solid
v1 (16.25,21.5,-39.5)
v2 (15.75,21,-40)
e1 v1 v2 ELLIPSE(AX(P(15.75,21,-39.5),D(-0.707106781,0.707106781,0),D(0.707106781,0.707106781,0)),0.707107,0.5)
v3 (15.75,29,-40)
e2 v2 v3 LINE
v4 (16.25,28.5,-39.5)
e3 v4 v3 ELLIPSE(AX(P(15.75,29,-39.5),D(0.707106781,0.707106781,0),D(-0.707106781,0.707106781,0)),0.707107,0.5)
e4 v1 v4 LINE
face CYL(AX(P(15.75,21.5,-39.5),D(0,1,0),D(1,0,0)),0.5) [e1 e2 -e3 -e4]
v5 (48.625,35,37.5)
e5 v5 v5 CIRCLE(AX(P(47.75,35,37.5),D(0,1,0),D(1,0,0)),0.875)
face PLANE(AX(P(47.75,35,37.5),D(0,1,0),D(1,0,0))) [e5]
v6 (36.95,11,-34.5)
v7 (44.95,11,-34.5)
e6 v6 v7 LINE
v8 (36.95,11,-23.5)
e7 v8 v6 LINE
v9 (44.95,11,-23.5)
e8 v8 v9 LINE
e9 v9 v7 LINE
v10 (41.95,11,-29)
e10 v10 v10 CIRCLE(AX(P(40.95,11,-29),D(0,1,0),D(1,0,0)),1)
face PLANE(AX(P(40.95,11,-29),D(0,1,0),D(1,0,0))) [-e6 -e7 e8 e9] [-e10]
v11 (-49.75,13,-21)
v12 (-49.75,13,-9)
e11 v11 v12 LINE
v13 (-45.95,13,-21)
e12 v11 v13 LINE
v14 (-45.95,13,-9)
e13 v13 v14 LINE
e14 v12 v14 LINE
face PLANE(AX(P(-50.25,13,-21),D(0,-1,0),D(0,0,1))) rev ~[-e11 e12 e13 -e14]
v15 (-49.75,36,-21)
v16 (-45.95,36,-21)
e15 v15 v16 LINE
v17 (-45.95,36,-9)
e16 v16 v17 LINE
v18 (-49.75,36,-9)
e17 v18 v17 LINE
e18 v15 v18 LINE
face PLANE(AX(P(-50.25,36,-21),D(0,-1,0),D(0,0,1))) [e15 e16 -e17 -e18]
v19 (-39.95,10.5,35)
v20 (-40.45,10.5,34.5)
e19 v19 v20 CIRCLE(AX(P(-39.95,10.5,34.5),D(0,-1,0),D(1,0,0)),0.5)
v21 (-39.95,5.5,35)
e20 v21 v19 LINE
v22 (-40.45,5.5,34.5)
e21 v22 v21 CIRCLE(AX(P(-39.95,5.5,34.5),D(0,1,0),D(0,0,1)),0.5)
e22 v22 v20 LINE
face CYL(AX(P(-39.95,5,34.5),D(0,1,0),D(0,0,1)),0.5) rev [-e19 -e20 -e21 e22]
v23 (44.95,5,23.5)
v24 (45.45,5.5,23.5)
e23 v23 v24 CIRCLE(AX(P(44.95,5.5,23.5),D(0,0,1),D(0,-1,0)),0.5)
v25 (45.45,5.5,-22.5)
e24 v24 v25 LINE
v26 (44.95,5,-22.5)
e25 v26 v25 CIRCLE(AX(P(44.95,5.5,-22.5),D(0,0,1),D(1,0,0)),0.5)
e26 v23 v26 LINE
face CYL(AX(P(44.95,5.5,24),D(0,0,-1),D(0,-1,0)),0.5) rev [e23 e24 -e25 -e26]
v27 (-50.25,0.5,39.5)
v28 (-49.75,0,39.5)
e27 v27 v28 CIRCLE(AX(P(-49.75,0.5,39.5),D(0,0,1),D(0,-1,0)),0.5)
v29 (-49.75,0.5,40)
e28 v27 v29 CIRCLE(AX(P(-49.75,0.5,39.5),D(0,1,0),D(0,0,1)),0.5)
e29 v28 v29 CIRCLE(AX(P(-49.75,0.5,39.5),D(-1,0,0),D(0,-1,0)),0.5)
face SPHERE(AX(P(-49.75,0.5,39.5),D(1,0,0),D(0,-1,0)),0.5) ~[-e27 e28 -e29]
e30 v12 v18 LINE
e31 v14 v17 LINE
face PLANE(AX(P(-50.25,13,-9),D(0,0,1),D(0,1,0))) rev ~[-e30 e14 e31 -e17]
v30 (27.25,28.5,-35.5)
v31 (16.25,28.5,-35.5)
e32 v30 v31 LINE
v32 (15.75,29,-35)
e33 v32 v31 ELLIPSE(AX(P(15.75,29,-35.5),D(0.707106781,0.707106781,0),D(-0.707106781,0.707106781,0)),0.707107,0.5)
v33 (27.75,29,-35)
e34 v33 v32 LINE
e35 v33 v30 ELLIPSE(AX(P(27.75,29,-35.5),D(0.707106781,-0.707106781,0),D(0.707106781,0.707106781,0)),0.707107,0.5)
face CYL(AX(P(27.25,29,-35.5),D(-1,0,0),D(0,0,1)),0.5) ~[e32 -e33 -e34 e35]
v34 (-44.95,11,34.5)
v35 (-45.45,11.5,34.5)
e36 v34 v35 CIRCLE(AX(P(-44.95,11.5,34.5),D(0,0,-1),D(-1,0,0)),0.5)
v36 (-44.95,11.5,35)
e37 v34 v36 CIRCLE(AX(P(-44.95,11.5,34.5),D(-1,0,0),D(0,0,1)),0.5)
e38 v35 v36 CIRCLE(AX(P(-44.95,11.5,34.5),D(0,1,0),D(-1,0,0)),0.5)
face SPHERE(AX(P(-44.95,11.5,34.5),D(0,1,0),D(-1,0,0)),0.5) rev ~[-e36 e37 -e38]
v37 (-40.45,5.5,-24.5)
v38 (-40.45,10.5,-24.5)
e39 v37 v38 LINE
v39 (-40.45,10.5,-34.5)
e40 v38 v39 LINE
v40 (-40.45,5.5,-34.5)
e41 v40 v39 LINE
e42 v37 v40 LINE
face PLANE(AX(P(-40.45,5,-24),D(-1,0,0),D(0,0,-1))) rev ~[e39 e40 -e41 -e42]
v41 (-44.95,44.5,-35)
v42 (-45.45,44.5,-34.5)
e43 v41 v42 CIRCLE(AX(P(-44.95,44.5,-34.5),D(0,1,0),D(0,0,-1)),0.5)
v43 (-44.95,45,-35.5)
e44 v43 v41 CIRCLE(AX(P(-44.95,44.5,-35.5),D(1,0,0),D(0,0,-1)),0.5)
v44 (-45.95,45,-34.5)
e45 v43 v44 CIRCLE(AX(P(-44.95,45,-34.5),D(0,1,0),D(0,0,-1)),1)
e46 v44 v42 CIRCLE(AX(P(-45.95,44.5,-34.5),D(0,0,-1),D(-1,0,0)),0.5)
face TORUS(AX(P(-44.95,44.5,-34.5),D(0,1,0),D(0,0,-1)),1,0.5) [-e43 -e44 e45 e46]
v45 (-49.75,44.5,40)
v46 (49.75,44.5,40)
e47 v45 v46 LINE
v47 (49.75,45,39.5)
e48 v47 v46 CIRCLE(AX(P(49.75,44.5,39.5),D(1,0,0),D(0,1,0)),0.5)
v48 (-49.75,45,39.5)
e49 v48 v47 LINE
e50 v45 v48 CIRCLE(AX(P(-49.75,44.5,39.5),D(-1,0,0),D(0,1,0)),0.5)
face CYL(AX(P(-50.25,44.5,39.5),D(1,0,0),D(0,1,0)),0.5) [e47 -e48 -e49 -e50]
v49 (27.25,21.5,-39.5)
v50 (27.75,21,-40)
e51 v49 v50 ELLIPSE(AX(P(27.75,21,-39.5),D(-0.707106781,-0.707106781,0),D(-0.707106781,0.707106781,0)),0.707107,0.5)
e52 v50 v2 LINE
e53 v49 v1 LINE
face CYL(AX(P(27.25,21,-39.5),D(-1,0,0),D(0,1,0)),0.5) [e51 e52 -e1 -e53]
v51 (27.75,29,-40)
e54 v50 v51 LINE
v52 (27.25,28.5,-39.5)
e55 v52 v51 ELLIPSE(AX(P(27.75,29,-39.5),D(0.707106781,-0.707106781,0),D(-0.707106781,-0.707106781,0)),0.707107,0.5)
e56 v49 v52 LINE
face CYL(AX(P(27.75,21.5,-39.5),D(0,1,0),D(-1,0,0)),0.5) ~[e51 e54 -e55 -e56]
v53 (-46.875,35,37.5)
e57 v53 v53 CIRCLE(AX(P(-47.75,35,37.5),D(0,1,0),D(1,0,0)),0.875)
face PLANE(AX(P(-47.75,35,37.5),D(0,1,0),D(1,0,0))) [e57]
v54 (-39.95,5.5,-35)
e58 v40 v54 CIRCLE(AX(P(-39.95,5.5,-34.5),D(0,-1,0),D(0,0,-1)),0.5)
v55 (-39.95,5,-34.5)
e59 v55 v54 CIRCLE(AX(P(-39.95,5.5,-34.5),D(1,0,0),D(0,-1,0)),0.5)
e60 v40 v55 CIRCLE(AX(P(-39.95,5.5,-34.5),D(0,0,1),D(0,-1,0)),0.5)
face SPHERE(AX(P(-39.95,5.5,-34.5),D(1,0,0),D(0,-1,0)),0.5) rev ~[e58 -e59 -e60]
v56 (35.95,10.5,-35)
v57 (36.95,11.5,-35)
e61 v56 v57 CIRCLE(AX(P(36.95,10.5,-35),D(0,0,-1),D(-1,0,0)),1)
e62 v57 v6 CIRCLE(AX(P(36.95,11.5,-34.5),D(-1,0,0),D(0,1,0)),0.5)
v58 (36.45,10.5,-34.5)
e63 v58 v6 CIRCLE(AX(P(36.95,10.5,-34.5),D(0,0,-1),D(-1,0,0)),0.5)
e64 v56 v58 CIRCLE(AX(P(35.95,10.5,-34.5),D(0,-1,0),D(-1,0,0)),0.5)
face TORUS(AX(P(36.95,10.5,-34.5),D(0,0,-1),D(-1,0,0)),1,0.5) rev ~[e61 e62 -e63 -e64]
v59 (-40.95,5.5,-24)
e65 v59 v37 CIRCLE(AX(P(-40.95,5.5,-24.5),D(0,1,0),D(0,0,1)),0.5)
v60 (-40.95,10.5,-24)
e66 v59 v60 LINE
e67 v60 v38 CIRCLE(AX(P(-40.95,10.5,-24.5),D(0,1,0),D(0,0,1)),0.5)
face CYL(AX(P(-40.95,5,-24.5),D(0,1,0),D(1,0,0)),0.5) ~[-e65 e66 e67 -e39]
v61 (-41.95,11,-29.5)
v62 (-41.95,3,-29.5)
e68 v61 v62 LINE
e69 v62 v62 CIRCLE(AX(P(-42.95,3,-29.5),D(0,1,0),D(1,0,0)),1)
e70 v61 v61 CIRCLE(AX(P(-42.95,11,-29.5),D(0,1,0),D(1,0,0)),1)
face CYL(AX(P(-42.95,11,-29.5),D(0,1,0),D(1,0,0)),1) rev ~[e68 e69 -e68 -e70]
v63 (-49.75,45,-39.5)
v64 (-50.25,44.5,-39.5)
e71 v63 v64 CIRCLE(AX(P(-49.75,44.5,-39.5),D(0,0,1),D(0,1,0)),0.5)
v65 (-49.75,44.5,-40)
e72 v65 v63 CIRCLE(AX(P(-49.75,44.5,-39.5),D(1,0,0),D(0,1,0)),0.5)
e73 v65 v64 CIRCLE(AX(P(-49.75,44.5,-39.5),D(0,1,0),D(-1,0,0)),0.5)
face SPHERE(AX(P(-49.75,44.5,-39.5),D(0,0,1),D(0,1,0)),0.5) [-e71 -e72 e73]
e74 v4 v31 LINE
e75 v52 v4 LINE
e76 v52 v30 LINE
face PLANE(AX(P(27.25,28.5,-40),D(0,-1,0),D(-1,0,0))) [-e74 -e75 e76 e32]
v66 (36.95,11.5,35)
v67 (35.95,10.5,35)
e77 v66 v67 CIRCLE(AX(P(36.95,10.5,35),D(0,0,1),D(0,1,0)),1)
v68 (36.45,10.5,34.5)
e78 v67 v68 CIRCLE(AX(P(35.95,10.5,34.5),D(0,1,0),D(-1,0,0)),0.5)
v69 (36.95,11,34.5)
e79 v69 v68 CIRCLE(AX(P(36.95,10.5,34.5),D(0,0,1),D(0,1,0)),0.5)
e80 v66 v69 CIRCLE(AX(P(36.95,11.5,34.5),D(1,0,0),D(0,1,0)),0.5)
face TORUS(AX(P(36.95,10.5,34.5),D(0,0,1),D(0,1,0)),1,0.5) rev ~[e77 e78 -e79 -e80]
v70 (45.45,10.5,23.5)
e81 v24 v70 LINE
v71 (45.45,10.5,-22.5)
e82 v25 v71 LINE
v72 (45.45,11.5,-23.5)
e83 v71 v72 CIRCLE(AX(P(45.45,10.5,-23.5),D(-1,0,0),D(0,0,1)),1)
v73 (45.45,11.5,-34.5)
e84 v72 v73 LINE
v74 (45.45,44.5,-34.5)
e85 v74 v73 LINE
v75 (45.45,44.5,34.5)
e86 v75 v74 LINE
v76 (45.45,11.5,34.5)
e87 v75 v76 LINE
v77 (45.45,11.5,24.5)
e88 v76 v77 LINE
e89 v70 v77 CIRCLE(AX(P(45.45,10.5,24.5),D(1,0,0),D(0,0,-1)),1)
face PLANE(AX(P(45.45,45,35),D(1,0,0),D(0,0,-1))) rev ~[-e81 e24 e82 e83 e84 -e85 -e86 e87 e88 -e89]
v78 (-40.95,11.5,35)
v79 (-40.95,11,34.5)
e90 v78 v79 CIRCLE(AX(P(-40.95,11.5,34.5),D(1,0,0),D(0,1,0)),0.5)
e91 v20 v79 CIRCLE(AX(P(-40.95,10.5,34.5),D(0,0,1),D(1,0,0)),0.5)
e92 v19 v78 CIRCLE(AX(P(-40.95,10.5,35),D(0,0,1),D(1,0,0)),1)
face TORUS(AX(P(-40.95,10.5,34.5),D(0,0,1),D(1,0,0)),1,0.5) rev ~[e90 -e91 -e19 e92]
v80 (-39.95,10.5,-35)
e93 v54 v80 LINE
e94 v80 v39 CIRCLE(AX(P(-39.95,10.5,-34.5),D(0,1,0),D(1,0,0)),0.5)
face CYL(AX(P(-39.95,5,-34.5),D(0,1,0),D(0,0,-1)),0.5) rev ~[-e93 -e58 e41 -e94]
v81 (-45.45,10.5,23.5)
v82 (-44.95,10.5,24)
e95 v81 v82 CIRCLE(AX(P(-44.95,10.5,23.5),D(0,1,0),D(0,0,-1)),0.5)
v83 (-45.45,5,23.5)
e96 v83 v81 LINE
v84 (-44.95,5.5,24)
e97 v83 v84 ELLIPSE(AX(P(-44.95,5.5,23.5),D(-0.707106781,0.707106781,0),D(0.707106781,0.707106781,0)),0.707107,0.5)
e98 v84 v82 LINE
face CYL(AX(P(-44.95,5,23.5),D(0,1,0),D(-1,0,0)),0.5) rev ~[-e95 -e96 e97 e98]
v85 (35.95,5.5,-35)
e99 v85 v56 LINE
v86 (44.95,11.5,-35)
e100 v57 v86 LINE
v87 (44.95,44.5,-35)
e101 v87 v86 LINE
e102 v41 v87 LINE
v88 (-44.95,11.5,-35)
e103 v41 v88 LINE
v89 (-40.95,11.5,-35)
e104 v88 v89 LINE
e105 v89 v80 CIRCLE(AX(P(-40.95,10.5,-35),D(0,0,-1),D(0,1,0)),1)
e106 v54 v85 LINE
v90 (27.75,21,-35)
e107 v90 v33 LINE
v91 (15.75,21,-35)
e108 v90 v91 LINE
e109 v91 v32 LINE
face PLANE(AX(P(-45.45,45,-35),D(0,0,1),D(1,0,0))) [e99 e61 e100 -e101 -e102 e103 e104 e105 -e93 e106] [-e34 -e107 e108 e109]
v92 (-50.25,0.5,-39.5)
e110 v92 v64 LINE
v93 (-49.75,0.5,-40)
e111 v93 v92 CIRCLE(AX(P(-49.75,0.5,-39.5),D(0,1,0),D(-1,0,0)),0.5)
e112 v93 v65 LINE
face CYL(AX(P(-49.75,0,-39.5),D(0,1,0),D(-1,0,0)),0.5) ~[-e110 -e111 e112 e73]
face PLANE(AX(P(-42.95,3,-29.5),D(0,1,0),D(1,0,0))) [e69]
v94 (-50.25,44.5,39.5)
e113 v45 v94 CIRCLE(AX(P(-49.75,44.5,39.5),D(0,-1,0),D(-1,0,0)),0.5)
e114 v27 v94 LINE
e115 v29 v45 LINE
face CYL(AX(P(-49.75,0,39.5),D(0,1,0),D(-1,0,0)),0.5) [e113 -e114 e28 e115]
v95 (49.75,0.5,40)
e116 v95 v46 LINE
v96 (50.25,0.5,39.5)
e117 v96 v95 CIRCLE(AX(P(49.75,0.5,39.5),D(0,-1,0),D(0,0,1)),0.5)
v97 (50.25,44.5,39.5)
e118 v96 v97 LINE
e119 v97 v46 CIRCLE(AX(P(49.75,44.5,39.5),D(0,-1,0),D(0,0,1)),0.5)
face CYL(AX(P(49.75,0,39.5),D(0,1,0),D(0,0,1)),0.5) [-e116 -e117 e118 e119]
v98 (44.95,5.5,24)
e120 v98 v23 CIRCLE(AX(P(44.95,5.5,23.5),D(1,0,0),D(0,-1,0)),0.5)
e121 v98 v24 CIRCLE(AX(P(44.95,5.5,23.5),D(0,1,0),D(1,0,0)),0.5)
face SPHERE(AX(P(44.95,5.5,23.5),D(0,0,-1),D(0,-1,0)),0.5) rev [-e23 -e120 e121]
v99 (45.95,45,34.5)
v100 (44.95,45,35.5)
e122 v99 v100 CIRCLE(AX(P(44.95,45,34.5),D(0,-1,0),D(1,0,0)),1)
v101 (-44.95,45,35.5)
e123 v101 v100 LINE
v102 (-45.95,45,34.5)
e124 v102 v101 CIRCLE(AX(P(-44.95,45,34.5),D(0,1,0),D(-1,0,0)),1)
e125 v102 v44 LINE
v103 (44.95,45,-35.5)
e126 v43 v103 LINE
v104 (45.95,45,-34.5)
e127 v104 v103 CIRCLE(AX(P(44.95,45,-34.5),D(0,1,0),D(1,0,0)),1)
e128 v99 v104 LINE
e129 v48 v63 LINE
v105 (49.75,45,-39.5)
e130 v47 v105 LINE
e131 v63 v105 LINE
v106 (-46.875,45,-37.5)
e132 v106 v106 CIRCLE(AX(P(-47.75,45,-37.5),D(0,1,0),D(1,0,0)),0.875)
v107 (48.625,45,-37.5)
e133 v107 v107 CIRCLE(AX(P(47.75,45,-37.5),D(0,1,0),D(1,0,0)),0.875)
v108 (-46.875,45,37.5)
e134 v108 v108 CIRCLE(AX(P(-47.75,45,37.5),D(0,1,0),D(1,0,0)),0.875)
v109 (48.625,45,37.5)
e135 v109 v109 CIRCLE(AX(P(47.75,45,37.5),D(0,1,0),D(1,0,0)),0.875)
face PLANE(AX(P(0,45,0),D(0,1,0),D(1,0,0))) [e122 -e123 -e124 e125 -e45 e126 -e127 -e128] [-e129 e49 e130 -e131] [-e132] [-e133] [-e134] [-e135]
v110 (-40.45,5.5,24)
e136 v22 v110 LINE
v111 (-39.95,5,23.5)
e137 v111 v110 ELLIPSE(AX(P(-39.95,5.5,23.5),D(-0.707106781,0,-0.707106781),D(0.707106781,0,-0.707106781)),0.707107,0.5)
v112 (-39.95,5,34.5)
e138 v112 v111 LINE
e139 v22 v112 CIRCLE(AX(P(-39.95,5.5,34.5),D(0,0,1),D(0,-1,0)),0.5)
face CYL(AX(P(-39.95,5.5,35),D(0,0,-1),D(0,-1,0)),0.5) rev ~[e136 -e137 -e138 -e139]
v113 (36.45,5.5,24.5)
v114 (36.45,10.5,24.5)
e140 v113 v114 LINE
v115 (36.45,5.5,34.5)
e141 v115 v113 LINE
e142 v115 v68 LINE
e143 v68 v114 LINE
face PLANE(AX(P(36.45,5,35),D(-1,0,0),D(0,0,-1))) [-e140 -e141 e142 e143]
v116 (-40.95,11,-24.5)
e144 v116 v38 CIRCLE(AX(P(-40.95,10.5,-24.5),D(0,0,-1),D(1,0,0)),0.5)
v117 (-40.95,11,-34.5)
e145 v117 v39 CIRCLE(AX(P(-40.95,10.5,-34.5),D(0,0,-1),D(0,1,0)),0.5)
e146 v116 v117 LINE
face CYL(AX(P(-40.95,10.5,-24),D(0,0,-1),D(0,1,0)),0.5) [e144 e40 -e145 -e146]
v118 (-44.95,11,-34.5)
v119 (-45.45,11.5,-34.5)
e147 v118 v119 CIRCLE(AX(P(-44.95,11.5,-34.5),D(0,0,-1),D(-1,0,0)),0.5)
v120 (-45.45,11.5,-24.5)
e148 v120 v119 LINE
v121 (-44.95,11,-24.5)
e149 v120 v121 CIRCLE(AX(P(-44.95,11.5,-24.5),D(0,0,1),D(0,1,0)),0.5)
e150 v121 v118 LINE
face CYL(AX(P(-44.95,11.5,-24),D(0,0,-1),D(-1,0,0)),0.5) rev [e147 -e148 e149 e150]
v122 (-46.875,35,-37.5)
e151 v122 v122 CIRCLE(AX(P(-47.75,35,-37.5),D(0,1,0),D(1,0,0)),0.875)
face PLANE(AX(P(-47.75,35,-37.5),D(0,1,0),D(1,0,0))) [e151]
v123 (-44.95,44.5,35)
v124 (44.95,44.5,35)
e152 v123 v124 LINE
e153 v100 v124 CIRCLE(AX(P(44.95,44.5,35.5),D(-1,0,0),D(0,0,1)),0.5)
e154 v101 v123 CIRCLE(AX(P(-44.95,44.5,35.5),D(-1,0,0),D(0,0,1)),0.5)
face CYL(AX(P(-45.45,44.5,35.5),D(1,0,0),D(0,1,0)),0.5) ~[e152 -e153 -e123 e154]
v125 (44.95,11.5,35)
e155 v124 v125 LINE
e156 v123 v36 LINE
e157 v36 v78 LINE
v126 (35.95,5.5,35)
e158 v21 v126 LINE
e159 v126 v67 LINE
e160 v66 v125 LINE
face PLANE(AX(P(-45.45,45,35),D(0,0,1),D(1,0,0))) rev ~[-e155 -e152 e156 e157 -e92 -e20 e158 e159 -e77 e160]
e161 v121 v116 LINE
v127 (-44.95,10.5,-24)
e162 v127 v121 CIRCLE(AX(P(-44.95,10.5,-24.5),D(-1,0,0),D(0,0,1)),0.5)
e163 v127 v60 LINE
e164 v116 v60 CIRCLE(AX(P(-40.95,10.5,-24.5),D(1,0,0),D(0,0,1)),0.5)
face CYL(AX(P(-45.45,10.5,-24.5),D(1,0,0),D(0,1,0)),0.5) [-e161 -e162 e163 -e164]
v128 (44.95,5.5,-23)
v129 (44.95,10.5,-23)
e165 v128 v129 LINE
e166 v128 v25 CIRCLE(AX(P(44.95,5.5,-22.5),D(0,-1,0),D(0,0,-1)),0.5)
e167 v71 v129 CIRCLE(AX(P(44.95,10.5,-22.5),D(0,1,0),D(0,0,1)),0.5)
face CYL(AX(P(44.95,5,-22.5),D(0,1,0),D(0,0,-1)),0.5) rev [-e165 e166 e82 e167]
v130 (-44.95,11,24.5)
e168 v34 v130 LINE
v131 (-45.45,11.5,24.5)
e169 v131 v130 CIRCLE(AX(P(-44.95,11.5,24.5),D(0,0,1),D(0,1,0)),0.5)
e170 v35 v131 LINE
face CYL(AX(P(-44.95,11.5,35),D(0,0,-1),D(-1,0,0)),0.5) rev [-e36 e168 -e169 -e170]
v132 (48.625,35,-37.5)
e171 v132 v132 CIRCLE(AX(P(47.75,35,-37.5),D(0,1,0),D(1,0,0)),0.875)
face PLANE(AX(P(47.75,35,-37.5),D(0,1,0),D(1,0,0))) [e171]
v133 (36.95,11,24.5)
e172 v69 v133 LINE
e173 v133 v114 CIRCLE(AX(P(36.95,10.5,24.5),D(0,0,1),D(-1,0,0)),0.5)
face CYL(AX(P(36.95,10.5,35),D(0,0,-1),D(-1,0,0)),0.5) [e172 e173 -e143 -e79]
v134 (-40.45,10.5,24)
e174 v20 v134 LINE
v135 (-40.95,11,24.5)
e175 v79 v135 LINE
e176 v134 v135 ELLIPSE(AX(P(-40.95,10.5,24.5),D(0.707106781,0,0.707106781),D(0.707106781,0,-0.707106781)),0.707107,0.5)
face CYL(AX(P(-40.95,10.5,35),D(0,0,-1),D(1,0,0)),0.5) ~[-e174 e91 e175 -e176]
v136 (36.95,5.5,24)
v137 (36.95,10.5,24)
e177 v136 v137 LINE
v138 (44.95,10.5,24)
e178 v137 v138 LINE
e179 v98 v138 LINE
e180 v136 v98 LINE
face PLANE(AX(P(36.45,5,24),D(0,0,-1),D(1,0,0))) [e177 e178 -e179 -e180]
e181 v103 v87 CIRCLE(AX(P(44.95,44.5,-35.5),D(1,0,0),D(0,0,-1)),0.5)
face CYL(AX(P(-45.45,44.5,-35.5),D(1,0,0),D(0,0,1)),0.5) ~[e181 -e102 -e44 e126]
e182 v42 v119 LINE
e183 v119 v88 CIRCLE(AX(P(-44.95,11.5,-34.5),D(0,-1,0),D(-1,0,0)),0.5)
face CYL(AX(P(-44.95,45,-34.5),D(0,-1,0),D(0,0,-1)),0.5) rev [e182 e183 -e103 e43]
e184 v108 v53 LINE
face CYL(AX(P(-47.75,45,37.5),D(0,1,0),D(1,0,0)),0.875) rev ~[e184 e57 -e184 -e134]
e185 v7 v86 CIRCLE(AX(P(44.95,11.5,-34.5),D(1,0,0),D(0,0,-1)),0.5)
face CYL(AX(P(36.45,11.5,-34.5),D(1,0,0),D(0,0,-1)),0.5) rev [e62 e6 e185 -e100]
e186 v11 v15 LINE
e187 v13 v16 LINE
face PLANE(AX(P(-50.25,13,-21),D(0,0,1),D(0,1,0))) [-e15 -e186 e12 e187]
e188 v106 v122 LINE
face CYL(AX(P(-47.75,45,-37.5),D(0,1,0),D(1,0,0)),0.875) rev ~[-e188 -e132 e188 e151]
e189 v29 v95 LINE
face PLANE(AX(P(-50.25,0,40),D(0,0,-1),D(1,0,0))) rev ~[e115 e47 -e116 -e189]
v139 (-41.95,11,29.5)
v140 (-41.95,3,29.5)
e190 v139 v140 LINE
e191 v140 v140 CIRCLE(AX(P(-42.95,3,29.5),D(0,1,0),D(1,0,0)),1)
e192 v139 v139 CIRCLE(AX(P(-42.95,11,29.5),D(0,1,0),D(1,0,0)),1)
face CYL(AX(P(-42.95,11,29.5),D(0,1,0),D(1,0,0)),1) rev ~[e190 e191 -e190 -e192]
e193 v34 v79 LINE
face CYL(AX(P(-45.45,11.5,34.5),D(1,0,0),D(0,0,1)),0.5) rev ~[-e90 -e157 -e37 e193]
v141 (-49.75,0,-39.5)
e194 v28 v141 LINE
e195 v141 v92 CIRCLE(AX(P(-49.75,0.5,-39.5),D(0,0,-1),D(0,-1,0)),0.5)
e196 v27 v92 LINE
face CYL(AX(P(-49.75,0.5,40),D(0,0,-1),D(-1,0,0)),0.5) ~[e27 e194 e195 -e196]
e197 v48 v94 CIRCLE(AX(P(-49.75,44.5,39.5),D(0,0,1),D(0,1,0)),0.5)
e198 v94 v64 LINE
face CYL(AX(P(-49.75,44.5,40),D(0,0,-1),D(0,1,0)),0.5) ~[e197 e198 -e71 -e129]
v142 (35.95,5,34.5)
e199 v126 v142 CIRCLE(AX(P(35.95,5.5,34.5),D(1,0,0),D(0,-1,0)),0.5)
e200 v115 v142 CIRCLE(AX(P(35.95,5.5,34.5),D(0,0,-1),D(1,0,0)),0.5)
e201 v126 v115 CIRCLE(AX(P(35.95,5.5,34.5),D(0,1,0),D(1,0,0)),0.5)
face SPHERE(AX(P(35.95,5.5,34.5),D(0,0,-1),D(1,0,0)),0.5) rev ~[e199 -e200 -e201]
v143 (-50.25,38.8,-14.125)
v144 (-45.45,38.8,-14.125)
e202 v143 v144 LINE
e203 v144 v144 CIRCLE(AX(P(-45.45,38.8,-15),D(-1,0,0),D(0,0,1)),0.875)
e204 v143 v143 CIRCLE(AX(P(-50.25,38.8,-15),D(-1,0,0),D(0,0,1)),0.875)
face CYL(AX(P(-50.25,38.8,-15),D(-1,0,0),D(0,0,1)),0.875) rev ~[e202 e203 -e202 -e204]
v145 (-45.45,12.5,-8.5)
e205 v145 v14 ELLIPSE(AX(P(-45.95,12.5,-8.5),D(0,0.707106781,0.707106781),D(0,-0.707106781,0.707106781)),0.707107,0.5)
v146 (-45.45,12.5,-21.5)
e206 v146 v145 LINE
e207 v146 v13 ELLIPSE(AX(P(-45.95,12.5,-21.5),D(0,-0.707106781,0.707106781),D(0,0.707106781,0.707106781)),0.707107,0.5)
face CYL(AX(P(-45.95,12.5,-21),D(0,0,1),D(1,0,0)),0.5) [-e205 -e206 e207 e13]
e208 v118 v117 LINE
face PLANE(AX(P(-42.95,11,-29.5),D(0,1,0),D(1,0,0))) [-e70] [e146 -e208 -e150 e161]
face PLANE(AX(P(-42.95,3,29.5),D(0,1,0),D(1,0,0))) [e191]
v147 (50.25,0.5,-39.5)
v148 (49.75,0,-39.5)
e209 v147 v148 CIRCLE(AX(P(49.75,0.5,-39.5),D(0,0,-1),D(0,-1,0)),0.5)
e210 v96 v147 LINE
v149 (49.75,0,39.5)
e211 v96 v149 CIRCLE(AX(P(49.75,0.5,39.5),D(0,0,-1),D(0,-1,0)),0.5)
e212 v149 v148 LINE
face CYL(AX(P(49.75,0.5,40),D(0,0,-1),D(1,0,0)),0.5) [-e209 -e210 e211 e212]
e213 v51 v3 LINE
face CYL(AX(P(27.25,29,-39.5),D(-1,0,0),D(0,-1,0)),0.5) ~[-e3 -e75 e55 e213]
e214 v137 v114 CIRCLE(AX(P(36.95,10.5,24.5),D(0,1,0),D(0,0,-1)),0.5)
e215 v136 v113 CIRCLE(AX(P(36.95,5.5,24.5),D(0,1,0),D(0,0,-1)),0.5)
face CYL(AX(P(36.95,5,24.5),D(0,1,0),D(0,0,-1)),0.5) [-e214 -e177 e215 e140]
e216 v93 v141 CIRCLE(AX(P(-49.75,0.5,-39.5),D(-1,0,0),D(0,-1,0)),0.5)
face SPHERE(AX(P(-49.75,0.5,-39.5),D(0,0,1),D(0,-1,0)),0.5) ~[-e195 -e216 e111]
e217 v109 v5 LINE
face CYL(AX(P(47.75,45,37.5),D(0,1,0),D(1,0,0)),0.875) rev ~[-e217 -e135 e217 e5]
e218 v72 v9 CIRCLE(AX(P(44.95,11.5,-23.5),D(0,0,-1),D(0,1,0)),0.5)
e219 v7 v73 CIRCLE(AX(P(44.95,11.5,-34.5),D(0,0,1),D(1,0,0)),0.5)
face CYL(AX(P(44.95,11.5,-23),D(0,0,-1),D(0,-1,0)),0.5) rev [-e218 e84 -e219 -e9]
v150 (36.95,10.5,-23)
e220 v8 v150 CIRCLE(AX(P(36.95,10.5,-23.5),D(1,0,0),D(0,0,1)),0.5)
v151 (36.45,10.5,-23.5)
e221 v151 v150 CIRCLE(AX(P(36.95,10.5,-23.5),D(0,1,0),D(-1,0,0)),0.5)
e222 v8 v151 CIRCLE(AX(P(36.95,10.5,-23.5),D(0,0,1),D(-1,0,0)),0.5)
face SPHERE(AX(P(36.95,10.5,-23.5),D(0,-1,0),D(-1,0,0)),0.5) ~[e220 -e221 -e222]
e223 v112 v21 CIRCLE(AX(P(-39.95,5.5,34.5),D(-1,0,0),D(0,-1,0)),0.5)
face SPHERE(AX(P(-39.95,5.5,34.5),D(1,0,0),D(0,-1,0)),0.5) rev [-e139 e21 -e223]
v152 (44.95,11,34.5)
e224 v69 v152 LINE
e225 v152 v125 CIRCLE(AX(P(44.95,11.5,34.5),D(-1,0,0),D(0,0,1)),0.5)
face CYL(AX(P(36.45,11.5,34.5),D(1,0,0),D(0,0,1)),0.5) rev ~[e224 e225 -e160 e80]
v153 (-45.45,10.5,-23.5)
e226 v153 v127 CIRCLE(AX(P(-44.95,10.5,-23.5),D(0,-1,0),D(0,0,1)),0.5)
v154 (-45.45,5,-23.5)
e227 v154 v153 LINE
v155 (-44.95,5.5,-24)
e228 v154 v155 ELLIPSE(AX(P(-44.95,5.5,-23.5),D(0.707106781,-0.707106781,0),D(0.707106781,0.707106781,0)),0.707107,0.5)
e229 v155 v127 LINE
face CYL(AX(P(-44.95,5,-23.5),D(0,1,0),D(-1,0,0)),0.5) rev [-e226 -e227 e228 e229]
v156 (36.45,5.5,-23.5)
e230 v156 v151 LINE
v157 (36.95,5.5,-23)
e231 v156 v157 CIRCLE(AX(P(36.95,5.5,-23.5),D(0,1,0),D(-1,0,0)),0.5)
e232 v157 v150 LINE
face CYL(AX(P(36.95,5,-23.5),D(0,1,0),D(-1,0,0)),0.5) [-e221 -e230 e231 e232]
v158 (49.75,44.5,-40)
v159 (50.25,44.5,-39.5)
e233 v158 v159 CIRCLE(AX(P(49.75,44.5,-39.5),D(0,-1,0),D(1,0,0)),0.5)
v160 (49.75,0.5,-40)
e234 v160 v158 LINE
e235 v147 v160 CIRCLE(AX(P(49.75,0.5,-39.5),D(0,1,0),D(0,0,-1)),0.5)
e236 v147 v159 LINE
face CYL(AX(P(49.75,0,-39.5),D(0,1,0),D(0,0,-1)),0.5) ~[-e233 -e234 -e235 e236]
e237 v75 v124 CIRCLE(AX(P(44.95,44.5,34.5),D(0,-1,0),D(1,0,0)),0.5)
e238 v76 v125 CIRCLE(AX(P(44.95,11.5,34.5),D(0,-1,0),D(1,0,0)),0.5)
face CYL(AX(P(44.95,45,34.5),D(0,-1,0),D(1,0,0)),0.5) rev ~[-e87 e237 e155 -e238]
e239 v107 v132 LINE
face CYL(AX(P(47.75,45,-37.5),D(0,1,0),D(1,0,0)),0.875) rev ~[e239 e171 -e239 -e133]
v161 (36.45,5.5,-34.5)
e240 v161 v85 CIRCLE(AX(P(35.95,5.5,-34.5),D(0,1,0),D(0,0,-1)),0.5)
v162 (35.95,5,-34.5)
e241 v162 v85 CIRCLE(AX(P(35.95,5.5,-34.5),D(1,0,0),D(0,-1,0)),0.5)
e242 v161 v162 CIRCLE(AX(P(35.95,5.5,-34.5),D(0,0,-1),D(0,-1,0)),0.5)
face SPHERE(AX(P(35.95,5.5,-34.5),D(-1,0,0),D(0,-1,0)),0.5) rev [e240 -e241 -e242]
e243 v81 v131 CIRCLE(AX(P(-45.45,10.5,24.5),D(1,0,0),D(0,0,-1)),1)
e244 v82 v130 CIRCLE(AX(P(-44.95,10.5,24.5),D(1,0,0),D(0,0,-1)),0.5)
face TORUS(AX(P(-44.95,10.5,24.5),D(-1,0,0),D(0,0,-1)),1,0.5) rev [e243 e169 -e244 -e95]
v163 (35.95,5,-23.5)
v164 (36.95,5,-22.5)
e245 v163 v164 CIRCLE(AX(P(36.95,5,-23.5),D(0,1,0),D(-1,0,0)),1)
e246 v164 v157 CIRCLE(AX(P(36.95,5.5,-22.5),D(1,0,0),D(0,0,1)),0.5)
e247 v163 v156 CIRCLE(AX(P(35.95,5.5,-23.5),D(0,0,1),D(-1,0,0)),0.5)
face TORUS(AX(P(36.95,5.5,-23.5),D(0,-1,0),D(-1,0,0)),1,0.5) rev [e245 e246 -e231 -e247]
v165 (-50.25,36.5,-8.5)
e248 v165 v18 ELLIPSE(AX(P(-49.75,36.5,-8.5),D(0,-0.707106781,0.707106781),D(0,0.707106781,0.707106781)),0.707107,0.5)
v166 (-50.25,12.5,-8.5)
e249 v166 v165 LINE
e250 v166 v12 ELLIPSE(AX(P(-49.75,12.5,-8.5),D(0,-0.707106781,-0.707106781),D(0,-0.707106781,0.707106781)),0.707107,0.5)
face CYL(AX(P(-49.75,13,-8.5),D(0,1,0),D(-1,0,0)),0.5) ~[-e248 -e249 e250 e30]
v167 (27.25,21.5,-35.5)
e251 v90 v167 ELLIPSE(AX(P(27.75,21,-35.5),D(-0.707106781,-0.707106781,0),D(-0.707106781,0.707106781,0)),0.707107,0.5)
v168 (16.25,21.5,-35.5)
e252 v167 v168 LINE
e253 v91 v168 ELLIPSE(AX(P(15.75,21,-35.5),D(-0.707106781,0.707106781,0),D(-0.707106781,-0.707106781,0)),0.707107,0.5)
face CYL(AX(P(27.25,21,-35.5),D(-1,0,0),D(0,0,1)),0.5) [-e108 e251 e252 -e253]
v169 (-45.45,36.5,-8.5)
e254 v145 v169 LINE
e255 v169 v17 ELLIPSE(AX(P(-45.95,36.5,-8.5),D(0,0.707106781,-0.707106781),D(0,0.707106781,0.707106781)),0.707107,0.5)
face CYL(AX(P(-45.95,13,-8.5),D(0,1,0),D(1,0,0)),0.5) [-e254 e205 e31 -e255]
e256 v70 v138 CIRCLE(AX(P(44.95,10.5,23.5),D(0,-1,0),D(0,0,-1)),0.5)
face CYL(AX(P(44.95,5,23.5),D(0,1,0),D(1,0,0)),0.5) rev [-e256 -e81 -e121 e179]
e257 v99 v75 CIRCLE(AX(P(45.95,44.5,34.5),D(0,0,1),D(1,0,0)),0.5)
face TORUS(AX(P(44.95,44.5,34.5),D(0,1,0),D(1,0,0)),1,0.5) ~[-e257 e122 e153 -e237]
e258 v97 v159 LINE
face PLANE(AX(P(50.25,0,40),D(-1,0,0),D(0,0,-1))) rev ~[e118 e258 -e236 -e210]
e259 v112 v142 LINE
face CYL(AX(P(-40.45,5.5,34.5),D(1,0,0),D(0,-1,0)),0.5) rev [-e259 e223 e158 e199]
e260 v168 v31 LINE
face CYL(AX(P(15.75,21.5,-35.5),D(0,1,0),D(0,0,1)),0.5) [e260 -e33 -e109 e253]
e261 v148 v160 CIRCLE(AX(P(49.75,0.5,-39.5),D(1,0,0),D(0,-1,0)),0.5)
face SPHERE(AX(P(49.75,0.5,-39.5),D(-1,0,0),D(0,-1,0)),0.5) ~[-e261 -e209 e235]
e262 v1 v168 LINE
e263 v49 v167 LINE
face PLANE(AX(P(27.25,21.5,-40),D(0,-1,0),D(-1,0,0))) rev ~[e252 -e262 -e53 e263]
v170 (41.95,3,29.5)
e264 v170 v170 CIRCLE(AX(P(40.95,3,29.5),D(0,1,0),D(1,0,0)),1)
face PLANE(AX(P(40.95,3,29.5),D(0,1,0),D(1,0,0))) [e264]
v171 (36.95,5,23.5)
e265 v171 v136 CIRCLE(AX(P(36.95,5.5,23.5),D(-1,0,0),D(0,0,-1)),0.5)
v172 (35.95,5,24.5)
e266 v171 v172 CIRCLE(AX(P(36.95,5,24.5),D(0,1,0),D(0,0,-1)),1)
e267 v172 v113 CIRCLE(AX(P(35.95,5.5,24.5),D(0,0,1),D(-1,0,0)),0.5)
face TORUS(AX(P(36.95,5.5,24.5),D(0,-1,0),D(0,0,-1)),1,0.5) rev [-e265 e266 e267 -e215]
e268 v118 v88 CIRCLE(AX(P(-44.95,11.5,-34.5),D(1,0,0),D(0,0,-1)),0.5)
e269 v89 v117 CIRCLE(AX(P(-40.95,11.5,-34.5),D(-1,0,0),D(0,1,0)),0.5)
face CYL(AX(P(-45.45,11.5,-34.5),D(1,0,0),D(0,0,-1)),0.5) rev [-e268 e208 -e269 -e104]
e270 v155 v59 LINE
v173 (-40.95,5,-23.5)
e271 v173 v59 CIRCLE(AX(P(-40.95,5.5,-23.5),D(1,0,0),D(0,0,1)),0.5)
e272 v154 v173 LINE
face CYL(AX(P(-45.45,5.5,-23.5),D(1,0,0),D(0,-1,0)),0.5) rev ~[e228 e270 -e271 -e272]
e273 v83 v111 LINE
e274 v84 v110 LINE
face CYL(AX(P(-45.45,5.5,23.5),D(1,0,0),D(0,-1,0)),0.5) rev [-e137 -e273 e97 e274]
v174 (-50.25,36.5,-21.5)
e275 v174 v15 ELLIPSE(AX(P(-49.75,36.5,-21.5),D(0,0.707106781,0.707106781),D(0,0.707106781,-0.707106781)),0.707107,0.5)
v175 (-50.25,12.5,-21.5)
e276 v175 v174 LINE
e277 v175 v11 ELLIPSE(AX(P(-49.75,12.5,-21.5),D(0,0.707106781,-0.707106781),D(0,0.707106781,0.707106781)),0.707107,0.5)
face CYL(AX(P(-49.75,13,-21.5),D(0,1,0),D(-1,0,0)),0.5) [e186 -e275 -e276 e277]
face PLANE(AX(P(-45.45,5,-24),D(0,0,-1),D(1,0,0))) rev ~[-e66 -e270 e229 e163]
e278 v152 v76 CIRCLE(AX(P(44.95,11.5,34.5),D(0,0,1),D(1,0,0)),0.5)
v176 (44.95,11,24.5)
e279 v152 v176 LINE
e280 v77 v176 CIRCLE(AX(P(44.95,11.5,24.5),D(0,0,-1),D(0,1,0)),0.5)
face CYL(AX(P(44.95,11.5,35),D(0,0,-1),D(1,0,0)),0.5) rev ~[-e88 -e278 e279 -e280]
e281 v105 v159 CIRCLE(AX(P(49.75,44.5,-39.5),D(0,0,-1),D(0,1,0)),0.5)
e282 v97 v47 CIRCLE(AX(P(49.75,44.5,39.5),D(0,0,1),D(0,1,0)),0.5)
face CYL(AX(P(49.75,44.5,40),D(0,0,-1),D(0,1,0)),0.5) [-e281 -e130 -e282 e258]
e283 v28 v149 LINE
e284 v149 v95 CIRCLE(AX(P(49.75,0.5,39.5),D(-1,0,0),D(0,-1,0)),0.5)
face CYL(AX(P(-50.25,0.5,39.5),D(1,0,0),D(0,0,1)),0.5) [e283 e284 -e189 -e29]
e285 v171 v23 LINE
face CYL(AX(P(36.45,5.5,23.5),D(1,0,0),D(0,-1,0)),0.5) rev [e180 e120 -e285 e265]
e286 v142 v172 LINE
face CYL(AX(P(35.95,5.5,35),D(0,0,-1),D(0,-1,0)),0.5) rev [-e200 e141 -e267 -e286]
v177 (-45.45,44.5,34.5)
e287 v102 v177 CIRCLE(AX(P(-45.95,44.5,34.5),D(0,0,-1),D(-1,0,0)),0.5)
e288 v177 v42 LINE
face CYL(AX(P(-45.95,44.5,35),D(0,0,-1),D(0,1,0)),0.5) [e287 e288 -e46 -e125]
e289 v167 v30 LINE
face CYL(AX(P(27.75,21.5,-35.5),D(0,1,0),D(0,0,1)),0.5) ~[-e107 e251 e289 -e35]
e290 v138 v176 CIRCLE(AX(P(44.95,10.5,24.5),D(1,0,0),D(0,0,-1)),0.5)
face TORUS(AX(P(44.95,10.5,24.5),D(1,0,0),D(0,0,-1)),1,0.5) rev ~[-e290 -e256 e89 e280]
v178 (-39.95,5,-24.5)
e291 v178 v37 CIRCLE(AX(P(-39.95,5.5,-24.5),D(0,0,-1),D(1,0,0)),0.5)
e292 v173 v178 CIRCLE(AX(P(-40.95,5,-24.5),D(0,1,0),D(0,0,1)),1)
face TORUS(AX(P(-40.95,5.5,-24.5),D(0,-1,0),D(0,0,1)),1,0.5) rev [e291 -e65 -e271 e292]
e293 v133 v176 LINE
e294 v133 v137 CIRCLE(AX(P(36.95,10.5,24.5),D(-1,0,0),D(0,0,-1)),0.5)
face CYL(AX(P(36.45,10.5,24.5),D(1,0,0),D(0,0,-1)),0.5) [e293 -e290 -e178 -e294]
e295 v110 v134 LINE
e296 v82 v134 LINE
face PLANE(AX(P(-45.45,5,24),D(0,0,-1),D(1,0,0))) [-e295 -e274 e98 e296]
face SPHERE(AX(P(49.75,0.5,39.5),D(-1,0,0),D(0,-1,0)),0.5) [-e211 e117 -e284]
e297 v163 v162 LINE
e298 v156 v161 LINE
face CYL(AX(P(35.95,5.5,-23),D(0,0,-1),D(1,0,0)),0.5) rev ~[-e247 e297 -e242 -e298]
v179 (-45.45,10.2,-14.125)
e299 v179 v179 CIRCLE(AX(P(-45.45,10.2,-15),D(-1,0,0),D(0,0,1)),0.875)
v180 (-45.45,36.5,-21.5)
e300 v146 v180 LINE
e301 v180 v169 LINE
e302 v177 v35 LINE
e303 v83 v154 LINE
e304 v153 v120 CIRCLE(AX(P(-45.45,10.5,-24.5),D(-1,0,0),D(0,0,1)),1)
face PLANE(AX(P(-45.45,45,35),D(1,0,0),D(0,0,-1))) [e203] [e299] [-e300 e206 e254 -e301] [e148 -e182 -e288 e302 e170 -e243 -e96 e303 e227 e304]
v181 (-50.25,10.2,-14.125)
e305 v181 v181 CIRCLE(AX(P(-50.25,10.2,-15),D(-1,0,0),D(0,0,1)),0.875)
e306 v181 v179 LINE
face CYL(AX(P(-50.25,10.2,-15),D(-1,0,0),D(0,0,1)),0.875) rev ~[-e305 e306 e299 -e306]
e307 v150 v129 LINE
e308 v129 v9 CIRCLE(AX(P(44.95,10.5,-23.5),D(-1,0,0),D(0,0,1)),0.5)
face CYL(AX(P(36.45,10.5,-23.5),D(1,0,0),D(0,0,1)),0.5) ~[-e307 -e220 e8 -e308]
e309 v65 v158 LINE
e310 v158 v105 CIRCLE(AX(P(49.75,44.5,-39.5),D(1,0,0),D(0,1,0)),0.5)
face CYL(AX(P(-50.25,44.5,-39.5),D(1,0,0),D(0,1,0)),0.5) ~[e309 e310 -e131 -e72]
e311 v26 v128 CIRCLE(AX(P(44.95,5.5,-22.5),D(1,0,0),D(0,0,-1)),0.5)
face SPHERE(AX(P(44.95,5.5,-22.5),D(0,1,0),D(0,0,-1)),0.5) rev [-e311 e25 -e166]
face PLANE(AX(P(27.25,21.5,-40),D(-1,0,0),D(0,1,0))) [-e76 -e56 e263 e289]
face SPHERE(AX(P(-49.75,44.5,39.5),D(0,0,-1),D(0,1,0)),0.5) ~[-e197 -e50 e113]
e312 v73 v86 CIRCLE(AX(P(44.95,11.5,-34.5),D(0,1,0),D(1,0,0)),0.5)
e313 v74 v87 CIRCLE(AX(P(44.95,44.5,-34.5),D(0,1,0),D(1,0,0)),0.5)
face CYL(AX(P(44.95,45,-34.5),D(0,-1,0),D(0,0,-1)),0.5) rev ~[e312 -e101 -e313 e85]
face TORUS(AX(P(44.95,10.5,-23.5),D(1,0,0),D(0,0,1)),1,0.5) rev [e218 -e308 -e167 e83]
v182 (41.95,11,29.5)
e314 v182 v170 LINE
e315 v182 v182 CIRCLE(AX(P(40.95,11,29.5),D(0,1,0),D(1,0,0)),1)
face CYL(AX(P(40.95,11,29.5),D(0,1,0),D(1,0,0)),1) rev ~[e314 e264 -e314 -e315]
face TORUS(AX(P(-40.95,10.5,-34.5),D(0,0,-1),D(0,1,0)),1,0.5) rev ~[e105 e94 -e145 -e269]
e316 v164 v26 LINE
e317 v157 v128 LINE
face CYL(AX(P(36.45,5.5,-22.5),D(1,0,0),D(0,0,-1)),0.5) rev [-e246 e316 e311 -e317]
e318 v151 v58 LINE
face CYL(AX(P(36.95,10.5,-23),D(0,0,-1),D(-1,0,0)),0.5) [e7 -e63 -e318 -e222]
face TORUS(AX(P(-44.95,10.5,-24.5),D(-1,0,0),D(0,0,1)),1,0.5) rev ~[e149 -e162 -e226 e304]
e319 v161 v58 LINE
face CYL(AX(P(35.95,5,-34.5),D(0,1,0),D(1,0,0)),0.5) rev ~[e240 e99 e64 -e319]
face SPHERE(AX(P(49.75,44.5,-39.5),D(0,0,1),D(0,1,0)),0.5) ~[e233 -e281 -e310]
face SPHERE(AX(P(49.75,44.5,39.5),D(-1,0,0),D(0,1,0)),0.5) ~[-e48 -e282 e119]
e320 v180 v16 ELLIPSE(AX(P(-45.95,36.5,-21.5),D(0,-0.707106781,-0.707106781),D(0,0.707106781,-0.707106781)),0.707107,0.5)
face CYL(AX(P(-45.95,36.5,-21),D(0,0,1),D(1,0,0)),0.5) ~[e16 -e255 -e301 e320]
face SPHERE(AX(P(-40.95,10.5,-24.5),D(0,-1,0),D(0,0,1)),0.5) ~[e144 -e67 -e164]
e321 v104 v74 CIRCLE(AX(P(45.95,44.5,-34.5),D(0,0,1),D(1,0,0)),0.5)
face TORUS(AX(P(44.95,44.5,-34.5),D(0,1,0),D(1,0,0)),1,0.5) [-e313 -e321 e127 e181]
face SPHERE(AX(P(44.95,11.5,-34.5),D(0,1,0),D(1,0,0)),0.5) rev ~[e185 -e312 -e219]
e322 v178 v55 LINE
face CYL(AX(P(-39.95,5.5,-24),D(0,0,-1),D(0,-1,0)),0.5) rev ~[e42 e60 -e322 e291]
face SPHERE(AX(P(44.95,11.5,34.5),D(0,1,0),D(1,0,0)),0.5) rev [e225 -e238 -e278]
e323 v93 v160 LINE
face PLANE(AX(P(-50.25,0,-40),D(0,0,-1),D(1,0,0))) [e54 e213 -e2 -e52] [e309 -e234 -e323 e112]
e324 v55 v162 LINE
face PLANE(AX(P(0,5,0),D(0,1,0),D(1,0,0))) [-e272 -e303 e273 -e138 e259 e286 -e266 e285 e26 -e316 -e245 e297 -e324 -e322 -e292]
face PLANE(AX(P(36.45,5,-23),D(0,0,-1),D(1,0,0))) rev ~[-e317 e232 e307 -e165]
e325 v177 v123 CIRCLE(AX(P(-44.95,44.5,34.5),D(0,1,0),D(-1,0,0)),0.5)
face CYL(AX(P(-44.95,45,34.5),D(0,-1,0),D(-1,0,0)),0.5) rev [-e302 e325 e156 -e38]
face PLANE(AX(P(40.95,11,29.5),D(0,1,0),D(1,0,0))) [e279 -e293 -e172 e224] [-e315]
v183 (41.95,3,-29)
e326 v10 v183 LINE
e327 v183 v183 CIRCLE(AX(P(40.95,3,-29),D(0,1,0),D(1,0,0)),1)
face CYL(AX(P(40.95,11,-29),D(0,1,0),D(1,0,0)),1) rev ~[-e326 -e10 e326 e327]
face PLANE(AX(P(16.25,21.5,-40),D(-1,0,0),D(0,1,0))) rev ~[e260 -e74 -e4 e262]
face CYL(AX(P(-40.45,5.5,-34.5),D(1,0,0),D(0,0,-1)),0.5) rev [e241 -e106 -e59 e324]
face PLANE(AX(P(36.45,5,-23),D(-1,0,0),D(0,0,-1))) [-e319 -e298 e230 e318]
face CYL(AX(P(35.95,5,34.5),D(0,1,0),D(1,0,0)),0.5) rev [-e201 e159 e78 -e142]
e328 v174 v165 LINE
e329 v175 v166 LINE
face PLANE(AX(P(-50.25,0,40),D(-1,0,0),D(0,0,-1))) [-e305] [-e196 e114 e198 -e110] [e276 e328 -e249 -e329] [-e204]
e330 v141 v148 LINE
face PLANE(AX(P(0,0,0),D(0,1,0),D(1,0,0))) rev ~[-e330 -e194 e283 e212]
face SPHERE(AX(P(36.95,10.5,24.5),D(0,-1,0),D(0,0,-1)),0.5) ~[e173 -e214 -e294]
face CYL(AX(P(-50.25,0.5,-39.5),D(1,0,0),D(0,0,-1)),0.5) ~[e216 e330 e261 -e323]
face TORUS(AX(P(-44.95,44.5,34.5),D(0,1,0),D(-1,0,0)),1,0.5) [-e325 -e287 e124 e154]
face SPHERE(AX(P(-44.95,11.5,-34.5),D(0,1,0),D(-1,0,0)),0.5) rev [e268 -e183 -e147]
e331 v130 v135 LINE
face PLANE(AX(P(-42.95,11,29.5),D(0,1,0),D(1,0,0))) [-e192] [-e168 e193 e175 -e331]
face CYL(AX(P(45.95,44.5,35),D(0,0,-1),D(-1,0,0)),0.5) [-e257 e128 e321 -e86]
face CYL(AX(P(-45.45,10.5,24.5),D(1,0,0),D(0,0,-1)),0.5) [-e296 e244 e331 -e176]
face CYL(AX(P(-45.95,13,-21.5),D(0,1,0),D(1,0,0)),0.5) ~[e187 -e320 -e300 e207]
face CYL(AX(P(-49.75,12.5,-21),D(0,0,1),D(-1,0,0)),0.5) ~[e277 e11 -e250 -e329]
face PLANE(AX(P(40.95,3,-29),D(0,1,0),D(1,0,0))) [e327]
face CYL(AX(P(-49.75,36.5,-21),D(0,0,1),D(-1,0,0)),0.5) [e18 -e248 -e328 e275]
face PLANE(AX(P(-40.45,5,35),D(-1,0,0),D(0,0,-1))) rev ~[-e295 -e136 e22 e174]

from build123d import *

# Parameters (mm, degrees)
SKETCH1_W                      = 100.5
SKETCH1_H                      = 80
BOSS_EXTRUDE1_DEPTH            = 45
SKETCH2_W                      = 90.9
SKETCH2_H                      = 70
CUT_EXTRUDE1_DEPTH             = 40
SKETCH3_W                      = 9
SKETCH3_H                      = 12
SKETCH3_H_2                    = 11
SKETCH3_W_2                    = 5
BOSS_EXTRUDE2_DEPTH            = 6
SKETCH4_R                      = 1
CUT_EXTRUDE2_DEPTH             = 8
CUT_EXTRUDE3_REACH             = 82
SKETCH5_W                      = 11
SKETCH5_H                      = 7
CUT_EXTRUDE3_DIRECTION_2_DEPTH = 1
SKETCH6_R                      = 0.875
CUT_EXTRUDE4_DEPTH             = 10
CUT_EXTRUDE5_REACH             = 102.5
SKETCH8_W                      = 12
SKETCH8_H                      = 23
SKETCH9_R                      = 0.875
CUT_EXTRUDE6_DEPTH             = 5
FILLET1_R                      = 0.5


with BuildPart() as part:
    # Sketch1 → Boss-Extrude1 (new body)
    with BuildSketch(Plane(origin=(0, 0, 0), x_dir=(1, 0, 0), z_dir=(0, 1, 0))):
        Rectangle(SKETCH1_W, SKETCH1_H)
    extrude(amount=BOSS_EXTRUDE1_DEPTH)

    # Sketch2 → Cut-Extrude1 (cut)
    with BuildSketch(Plane(origin=(0, 45, 0), x_dir=(1, 0, 0), z_dir=(0, 1, 0))):
        Rectangle(SKETCH2_W, SKETCH2_H)
    extrude(amount=-CUT_EXTRUDE1_DEPTH, mode=Mode.SUBTRACT)

    # Sketch3 → Boss-Extrude2 (add)
    with BuildSketch(Plane(origin=(0, 5, 0), x_dir=(1, 0, 0), z_dir=(0, 1, 0))):
        with Locations((40.95, 29)):
            Rectangle(SKETCH3_W, SKETCH3_H)
        with Locations((40.95, -29.5)):
            Rectangle(SKETCH3_W, SKETCH3_H_2)
        with Locations((-42.95, -29.5)):
            Rectangle(SKETCH3_W_2, SKETCH3_H_2)
        with Locations((-42.95, 29.5)):
            Rectangle(SKETCH3_W_2, SKETCH3_H_2)
    extrude(amount=BOSS_EXTRUDE2_DEPTH)

    # Sketch4 → Cut-Extrude2 (cut)
    with BuildSketch(Plane(origin=(0, 11, 0), x_dir=(1, 0, 0), z_dir=(0, 1, 0))):
        with Locations((-42.95, -29.5)):
            Circle(SKETCH4_R)
        with Locations((40.95, -29.5)):
            Circle(SKETCH4_R)
        with Locations((40.95, 29)):
            Circle(SKETCH4_R)
        with Locations((-42.95, 29.5)):
            Circle(SKETCH4_R)
    extrude(amount=-CUT_EXTRUDE2_DEPTH, mode=Mode.SUBTRACT)

    # Sketch5 → Cut-Extrude3 (cut, up to next)
    with BuildSketch(Plane(origin=(0, 0, -40), x_dir=(-1, 0, 0), z_dir=(0, 0, -1)), mode=Mode.PRIVATE) as cut_extrude3_sk1:
        with Locations((-21.75, 25)):
            Rectangle(SKETCH5_W, SKETCH5_H)
    cut_extrude3_tool1 = extrude(cut_extrude3_sk1.sketch, amount=-CUT_EXTRUDE3_REACH, mode=Mode.PRIVATE) & part.part
    add(cut_extrude3_tool1.solids().sort_by_distance((21.75, 25, -40))[0], mode=Mode.SUBTRACT)

    # Sketch5 → Cut-Extrude3 direction 2 (cut)
    with BuildSketch(Plane(origin=(0, 0, -40), x_dir=(-1, 0, 0), z_dir=(0, 0, -1))):
        with Locations((-21.75, 25)):
            Rectangle(SKETCH5_W, SKETCH5_H)
    extrude(amount=CUT_EXTRUDE3_DIRECTION_2_DEPTH, mode=Mode.SUBTRACT)

    # Sketch6 → Cut-Extrude4 (cut)
    with BuildSketch(Plane(origin=(0, 45, 0), x_dir=(1, 0, 0), z_dir=(0, 1, 0))):
        with Locations((-47.75, 37.5)):
            Circle(SKETCH6_R)
        with Locations((-47.75, -37.5)):
            Circle(SKETCH6_R)
        with Locations((47.75, -37.5)):
            Circle(SKETCH6_R)
        with Locations((47.75, 37.5)):
            Circle(SKETCH6_R)
    extrude(amount=-CUT_EXTRUDE4_DEPTH, mode=Mode.SUBTRACT)

    # Sketch8 → Cut-Extrude5 (cut, up to next)
    with BuildSketch(Plane.ZY.offset(50.25), mode=Mode.PRIVATE) as cut_extrude5_sk1:
        with Locations((-15, 24.5)):
            Rectangle(SKETCH8_W, SKETCH8_H)
    cut_extrude5_tool1 = extrude(cut_extrude5_sk1.sketch, amount=-CUT_EXTRUDE5_REACH, mode=Mode.PRIVATE) & part.part
    add(cut_extrude5_tool1.solids().sort_by_distance((-50.25, 24.5, -15))[0], mode=Mode.SUBTRACT)

    # Sketch9 → Cut-Extrude6 (cut)
    with BuildSketch(Plane.ZY.offset(50.25)):
        with Locations((-15, 38.8)):
            Circle(SKETCH9_R)
        with Locations((-15, 10.2)):
            Circle(SKETCH9_R)
    extrude(amount=-CUT_EXTRUDE6_DEPTH, mode=Mode.SUBTRACT)

    # Fillet1
    fillet1_edges = [part.edges().sort_by_distance(p)[0] for p in [
        (-50.25, 45, 0),
        (21.75, 21.5, -35),
        (27.25, 25, -35),
        (21.75, 28.5, -35),
        (16.25, 25, -35),
        (0, 45, 40),
        (-50.25, 24.5, -21),
        (-50.25, 13, -15),
        (-50.25, 24.5, -9),
        (-50.25, 36, -15),
        (-45.45, 13, -15),
        (-45.45, 24.5, -21),
        (-45.45, 36, -15),
        (-45.45, 24.5, -9),
        (45.45, 45, 0),
        (0, 45, -35),
        (-45.45, 45, 0),
        (0, 45, 35),
        (-2, 5, -35),
        (45.45, 28, -35),
        (45.45, 8, -23),
        (36.45, 5, -29),
        (36.45, 8, -35),
        (40.95, 5, -23),
        (36.45, 8, -23),
        (45.45, 11, -29),
        (40.95, 11, -35),
        (36.45, 11, -29),
        (40.95, 11, -23),
        (45.45, 28, 35),
        (50.25, 45, 0),
        (45.45, 5, 0.5),
        (40.95, 5, 24),
        (45.45, 8, 24),
        (36.45, 5, 29.5),
        (36.45, 8, 24),
        (36.45, 8, 35),
        (45.45, 11, 29.5),
        (40.95, 11, 24),
        (0, 0, 40),
        (36.45, 11, 29.5),
        (40.95, 11, 35),
        (-50.25, 0, 0),
        (-45.45, 28, 35),
        (0, 0, -40),
        (-2, 5, 35),
        (-45.45, 8, 24),
        (-40.45, 5, 29.5),
        (-40.45, 8, 35),
        (-42.95, 5, 24),
        (-45.45, 11, 29.5),
        (50.25, 0, 0),
        (-42.95, 11, 35),
        (-40.45, 11, 29.5),
        (-42.95, 11, 24),
        (-45.45, 28, -35),
        (-42.95, 5, -24),
        (-45.45, 8, -24),
        (-40.45, 5, -29.5),
        (-40.45, 8, -24),
        (-40.45, 8, -35),
        (-45.45, 11, -29.5),
        (-42.95, 11, -24),
        (-40.45, 11, -29.5),
        (0, 45, -40),
        (-42.95, 11, -35),
        (50.25, 22.5, 40),
        (-50.25, 22.5, 40),
        (-50.25, 22.5, -40),
        (50.25, 22.5, -40),
        (21.75, 28.5, -40),
        (16.25, 25, -40),
        (21.75, 21.5, -40),
        (27.25, 25, -40),
    ]]
    fillet(fillet1_edges, radius=FILLET1_R)


solid = part.part
